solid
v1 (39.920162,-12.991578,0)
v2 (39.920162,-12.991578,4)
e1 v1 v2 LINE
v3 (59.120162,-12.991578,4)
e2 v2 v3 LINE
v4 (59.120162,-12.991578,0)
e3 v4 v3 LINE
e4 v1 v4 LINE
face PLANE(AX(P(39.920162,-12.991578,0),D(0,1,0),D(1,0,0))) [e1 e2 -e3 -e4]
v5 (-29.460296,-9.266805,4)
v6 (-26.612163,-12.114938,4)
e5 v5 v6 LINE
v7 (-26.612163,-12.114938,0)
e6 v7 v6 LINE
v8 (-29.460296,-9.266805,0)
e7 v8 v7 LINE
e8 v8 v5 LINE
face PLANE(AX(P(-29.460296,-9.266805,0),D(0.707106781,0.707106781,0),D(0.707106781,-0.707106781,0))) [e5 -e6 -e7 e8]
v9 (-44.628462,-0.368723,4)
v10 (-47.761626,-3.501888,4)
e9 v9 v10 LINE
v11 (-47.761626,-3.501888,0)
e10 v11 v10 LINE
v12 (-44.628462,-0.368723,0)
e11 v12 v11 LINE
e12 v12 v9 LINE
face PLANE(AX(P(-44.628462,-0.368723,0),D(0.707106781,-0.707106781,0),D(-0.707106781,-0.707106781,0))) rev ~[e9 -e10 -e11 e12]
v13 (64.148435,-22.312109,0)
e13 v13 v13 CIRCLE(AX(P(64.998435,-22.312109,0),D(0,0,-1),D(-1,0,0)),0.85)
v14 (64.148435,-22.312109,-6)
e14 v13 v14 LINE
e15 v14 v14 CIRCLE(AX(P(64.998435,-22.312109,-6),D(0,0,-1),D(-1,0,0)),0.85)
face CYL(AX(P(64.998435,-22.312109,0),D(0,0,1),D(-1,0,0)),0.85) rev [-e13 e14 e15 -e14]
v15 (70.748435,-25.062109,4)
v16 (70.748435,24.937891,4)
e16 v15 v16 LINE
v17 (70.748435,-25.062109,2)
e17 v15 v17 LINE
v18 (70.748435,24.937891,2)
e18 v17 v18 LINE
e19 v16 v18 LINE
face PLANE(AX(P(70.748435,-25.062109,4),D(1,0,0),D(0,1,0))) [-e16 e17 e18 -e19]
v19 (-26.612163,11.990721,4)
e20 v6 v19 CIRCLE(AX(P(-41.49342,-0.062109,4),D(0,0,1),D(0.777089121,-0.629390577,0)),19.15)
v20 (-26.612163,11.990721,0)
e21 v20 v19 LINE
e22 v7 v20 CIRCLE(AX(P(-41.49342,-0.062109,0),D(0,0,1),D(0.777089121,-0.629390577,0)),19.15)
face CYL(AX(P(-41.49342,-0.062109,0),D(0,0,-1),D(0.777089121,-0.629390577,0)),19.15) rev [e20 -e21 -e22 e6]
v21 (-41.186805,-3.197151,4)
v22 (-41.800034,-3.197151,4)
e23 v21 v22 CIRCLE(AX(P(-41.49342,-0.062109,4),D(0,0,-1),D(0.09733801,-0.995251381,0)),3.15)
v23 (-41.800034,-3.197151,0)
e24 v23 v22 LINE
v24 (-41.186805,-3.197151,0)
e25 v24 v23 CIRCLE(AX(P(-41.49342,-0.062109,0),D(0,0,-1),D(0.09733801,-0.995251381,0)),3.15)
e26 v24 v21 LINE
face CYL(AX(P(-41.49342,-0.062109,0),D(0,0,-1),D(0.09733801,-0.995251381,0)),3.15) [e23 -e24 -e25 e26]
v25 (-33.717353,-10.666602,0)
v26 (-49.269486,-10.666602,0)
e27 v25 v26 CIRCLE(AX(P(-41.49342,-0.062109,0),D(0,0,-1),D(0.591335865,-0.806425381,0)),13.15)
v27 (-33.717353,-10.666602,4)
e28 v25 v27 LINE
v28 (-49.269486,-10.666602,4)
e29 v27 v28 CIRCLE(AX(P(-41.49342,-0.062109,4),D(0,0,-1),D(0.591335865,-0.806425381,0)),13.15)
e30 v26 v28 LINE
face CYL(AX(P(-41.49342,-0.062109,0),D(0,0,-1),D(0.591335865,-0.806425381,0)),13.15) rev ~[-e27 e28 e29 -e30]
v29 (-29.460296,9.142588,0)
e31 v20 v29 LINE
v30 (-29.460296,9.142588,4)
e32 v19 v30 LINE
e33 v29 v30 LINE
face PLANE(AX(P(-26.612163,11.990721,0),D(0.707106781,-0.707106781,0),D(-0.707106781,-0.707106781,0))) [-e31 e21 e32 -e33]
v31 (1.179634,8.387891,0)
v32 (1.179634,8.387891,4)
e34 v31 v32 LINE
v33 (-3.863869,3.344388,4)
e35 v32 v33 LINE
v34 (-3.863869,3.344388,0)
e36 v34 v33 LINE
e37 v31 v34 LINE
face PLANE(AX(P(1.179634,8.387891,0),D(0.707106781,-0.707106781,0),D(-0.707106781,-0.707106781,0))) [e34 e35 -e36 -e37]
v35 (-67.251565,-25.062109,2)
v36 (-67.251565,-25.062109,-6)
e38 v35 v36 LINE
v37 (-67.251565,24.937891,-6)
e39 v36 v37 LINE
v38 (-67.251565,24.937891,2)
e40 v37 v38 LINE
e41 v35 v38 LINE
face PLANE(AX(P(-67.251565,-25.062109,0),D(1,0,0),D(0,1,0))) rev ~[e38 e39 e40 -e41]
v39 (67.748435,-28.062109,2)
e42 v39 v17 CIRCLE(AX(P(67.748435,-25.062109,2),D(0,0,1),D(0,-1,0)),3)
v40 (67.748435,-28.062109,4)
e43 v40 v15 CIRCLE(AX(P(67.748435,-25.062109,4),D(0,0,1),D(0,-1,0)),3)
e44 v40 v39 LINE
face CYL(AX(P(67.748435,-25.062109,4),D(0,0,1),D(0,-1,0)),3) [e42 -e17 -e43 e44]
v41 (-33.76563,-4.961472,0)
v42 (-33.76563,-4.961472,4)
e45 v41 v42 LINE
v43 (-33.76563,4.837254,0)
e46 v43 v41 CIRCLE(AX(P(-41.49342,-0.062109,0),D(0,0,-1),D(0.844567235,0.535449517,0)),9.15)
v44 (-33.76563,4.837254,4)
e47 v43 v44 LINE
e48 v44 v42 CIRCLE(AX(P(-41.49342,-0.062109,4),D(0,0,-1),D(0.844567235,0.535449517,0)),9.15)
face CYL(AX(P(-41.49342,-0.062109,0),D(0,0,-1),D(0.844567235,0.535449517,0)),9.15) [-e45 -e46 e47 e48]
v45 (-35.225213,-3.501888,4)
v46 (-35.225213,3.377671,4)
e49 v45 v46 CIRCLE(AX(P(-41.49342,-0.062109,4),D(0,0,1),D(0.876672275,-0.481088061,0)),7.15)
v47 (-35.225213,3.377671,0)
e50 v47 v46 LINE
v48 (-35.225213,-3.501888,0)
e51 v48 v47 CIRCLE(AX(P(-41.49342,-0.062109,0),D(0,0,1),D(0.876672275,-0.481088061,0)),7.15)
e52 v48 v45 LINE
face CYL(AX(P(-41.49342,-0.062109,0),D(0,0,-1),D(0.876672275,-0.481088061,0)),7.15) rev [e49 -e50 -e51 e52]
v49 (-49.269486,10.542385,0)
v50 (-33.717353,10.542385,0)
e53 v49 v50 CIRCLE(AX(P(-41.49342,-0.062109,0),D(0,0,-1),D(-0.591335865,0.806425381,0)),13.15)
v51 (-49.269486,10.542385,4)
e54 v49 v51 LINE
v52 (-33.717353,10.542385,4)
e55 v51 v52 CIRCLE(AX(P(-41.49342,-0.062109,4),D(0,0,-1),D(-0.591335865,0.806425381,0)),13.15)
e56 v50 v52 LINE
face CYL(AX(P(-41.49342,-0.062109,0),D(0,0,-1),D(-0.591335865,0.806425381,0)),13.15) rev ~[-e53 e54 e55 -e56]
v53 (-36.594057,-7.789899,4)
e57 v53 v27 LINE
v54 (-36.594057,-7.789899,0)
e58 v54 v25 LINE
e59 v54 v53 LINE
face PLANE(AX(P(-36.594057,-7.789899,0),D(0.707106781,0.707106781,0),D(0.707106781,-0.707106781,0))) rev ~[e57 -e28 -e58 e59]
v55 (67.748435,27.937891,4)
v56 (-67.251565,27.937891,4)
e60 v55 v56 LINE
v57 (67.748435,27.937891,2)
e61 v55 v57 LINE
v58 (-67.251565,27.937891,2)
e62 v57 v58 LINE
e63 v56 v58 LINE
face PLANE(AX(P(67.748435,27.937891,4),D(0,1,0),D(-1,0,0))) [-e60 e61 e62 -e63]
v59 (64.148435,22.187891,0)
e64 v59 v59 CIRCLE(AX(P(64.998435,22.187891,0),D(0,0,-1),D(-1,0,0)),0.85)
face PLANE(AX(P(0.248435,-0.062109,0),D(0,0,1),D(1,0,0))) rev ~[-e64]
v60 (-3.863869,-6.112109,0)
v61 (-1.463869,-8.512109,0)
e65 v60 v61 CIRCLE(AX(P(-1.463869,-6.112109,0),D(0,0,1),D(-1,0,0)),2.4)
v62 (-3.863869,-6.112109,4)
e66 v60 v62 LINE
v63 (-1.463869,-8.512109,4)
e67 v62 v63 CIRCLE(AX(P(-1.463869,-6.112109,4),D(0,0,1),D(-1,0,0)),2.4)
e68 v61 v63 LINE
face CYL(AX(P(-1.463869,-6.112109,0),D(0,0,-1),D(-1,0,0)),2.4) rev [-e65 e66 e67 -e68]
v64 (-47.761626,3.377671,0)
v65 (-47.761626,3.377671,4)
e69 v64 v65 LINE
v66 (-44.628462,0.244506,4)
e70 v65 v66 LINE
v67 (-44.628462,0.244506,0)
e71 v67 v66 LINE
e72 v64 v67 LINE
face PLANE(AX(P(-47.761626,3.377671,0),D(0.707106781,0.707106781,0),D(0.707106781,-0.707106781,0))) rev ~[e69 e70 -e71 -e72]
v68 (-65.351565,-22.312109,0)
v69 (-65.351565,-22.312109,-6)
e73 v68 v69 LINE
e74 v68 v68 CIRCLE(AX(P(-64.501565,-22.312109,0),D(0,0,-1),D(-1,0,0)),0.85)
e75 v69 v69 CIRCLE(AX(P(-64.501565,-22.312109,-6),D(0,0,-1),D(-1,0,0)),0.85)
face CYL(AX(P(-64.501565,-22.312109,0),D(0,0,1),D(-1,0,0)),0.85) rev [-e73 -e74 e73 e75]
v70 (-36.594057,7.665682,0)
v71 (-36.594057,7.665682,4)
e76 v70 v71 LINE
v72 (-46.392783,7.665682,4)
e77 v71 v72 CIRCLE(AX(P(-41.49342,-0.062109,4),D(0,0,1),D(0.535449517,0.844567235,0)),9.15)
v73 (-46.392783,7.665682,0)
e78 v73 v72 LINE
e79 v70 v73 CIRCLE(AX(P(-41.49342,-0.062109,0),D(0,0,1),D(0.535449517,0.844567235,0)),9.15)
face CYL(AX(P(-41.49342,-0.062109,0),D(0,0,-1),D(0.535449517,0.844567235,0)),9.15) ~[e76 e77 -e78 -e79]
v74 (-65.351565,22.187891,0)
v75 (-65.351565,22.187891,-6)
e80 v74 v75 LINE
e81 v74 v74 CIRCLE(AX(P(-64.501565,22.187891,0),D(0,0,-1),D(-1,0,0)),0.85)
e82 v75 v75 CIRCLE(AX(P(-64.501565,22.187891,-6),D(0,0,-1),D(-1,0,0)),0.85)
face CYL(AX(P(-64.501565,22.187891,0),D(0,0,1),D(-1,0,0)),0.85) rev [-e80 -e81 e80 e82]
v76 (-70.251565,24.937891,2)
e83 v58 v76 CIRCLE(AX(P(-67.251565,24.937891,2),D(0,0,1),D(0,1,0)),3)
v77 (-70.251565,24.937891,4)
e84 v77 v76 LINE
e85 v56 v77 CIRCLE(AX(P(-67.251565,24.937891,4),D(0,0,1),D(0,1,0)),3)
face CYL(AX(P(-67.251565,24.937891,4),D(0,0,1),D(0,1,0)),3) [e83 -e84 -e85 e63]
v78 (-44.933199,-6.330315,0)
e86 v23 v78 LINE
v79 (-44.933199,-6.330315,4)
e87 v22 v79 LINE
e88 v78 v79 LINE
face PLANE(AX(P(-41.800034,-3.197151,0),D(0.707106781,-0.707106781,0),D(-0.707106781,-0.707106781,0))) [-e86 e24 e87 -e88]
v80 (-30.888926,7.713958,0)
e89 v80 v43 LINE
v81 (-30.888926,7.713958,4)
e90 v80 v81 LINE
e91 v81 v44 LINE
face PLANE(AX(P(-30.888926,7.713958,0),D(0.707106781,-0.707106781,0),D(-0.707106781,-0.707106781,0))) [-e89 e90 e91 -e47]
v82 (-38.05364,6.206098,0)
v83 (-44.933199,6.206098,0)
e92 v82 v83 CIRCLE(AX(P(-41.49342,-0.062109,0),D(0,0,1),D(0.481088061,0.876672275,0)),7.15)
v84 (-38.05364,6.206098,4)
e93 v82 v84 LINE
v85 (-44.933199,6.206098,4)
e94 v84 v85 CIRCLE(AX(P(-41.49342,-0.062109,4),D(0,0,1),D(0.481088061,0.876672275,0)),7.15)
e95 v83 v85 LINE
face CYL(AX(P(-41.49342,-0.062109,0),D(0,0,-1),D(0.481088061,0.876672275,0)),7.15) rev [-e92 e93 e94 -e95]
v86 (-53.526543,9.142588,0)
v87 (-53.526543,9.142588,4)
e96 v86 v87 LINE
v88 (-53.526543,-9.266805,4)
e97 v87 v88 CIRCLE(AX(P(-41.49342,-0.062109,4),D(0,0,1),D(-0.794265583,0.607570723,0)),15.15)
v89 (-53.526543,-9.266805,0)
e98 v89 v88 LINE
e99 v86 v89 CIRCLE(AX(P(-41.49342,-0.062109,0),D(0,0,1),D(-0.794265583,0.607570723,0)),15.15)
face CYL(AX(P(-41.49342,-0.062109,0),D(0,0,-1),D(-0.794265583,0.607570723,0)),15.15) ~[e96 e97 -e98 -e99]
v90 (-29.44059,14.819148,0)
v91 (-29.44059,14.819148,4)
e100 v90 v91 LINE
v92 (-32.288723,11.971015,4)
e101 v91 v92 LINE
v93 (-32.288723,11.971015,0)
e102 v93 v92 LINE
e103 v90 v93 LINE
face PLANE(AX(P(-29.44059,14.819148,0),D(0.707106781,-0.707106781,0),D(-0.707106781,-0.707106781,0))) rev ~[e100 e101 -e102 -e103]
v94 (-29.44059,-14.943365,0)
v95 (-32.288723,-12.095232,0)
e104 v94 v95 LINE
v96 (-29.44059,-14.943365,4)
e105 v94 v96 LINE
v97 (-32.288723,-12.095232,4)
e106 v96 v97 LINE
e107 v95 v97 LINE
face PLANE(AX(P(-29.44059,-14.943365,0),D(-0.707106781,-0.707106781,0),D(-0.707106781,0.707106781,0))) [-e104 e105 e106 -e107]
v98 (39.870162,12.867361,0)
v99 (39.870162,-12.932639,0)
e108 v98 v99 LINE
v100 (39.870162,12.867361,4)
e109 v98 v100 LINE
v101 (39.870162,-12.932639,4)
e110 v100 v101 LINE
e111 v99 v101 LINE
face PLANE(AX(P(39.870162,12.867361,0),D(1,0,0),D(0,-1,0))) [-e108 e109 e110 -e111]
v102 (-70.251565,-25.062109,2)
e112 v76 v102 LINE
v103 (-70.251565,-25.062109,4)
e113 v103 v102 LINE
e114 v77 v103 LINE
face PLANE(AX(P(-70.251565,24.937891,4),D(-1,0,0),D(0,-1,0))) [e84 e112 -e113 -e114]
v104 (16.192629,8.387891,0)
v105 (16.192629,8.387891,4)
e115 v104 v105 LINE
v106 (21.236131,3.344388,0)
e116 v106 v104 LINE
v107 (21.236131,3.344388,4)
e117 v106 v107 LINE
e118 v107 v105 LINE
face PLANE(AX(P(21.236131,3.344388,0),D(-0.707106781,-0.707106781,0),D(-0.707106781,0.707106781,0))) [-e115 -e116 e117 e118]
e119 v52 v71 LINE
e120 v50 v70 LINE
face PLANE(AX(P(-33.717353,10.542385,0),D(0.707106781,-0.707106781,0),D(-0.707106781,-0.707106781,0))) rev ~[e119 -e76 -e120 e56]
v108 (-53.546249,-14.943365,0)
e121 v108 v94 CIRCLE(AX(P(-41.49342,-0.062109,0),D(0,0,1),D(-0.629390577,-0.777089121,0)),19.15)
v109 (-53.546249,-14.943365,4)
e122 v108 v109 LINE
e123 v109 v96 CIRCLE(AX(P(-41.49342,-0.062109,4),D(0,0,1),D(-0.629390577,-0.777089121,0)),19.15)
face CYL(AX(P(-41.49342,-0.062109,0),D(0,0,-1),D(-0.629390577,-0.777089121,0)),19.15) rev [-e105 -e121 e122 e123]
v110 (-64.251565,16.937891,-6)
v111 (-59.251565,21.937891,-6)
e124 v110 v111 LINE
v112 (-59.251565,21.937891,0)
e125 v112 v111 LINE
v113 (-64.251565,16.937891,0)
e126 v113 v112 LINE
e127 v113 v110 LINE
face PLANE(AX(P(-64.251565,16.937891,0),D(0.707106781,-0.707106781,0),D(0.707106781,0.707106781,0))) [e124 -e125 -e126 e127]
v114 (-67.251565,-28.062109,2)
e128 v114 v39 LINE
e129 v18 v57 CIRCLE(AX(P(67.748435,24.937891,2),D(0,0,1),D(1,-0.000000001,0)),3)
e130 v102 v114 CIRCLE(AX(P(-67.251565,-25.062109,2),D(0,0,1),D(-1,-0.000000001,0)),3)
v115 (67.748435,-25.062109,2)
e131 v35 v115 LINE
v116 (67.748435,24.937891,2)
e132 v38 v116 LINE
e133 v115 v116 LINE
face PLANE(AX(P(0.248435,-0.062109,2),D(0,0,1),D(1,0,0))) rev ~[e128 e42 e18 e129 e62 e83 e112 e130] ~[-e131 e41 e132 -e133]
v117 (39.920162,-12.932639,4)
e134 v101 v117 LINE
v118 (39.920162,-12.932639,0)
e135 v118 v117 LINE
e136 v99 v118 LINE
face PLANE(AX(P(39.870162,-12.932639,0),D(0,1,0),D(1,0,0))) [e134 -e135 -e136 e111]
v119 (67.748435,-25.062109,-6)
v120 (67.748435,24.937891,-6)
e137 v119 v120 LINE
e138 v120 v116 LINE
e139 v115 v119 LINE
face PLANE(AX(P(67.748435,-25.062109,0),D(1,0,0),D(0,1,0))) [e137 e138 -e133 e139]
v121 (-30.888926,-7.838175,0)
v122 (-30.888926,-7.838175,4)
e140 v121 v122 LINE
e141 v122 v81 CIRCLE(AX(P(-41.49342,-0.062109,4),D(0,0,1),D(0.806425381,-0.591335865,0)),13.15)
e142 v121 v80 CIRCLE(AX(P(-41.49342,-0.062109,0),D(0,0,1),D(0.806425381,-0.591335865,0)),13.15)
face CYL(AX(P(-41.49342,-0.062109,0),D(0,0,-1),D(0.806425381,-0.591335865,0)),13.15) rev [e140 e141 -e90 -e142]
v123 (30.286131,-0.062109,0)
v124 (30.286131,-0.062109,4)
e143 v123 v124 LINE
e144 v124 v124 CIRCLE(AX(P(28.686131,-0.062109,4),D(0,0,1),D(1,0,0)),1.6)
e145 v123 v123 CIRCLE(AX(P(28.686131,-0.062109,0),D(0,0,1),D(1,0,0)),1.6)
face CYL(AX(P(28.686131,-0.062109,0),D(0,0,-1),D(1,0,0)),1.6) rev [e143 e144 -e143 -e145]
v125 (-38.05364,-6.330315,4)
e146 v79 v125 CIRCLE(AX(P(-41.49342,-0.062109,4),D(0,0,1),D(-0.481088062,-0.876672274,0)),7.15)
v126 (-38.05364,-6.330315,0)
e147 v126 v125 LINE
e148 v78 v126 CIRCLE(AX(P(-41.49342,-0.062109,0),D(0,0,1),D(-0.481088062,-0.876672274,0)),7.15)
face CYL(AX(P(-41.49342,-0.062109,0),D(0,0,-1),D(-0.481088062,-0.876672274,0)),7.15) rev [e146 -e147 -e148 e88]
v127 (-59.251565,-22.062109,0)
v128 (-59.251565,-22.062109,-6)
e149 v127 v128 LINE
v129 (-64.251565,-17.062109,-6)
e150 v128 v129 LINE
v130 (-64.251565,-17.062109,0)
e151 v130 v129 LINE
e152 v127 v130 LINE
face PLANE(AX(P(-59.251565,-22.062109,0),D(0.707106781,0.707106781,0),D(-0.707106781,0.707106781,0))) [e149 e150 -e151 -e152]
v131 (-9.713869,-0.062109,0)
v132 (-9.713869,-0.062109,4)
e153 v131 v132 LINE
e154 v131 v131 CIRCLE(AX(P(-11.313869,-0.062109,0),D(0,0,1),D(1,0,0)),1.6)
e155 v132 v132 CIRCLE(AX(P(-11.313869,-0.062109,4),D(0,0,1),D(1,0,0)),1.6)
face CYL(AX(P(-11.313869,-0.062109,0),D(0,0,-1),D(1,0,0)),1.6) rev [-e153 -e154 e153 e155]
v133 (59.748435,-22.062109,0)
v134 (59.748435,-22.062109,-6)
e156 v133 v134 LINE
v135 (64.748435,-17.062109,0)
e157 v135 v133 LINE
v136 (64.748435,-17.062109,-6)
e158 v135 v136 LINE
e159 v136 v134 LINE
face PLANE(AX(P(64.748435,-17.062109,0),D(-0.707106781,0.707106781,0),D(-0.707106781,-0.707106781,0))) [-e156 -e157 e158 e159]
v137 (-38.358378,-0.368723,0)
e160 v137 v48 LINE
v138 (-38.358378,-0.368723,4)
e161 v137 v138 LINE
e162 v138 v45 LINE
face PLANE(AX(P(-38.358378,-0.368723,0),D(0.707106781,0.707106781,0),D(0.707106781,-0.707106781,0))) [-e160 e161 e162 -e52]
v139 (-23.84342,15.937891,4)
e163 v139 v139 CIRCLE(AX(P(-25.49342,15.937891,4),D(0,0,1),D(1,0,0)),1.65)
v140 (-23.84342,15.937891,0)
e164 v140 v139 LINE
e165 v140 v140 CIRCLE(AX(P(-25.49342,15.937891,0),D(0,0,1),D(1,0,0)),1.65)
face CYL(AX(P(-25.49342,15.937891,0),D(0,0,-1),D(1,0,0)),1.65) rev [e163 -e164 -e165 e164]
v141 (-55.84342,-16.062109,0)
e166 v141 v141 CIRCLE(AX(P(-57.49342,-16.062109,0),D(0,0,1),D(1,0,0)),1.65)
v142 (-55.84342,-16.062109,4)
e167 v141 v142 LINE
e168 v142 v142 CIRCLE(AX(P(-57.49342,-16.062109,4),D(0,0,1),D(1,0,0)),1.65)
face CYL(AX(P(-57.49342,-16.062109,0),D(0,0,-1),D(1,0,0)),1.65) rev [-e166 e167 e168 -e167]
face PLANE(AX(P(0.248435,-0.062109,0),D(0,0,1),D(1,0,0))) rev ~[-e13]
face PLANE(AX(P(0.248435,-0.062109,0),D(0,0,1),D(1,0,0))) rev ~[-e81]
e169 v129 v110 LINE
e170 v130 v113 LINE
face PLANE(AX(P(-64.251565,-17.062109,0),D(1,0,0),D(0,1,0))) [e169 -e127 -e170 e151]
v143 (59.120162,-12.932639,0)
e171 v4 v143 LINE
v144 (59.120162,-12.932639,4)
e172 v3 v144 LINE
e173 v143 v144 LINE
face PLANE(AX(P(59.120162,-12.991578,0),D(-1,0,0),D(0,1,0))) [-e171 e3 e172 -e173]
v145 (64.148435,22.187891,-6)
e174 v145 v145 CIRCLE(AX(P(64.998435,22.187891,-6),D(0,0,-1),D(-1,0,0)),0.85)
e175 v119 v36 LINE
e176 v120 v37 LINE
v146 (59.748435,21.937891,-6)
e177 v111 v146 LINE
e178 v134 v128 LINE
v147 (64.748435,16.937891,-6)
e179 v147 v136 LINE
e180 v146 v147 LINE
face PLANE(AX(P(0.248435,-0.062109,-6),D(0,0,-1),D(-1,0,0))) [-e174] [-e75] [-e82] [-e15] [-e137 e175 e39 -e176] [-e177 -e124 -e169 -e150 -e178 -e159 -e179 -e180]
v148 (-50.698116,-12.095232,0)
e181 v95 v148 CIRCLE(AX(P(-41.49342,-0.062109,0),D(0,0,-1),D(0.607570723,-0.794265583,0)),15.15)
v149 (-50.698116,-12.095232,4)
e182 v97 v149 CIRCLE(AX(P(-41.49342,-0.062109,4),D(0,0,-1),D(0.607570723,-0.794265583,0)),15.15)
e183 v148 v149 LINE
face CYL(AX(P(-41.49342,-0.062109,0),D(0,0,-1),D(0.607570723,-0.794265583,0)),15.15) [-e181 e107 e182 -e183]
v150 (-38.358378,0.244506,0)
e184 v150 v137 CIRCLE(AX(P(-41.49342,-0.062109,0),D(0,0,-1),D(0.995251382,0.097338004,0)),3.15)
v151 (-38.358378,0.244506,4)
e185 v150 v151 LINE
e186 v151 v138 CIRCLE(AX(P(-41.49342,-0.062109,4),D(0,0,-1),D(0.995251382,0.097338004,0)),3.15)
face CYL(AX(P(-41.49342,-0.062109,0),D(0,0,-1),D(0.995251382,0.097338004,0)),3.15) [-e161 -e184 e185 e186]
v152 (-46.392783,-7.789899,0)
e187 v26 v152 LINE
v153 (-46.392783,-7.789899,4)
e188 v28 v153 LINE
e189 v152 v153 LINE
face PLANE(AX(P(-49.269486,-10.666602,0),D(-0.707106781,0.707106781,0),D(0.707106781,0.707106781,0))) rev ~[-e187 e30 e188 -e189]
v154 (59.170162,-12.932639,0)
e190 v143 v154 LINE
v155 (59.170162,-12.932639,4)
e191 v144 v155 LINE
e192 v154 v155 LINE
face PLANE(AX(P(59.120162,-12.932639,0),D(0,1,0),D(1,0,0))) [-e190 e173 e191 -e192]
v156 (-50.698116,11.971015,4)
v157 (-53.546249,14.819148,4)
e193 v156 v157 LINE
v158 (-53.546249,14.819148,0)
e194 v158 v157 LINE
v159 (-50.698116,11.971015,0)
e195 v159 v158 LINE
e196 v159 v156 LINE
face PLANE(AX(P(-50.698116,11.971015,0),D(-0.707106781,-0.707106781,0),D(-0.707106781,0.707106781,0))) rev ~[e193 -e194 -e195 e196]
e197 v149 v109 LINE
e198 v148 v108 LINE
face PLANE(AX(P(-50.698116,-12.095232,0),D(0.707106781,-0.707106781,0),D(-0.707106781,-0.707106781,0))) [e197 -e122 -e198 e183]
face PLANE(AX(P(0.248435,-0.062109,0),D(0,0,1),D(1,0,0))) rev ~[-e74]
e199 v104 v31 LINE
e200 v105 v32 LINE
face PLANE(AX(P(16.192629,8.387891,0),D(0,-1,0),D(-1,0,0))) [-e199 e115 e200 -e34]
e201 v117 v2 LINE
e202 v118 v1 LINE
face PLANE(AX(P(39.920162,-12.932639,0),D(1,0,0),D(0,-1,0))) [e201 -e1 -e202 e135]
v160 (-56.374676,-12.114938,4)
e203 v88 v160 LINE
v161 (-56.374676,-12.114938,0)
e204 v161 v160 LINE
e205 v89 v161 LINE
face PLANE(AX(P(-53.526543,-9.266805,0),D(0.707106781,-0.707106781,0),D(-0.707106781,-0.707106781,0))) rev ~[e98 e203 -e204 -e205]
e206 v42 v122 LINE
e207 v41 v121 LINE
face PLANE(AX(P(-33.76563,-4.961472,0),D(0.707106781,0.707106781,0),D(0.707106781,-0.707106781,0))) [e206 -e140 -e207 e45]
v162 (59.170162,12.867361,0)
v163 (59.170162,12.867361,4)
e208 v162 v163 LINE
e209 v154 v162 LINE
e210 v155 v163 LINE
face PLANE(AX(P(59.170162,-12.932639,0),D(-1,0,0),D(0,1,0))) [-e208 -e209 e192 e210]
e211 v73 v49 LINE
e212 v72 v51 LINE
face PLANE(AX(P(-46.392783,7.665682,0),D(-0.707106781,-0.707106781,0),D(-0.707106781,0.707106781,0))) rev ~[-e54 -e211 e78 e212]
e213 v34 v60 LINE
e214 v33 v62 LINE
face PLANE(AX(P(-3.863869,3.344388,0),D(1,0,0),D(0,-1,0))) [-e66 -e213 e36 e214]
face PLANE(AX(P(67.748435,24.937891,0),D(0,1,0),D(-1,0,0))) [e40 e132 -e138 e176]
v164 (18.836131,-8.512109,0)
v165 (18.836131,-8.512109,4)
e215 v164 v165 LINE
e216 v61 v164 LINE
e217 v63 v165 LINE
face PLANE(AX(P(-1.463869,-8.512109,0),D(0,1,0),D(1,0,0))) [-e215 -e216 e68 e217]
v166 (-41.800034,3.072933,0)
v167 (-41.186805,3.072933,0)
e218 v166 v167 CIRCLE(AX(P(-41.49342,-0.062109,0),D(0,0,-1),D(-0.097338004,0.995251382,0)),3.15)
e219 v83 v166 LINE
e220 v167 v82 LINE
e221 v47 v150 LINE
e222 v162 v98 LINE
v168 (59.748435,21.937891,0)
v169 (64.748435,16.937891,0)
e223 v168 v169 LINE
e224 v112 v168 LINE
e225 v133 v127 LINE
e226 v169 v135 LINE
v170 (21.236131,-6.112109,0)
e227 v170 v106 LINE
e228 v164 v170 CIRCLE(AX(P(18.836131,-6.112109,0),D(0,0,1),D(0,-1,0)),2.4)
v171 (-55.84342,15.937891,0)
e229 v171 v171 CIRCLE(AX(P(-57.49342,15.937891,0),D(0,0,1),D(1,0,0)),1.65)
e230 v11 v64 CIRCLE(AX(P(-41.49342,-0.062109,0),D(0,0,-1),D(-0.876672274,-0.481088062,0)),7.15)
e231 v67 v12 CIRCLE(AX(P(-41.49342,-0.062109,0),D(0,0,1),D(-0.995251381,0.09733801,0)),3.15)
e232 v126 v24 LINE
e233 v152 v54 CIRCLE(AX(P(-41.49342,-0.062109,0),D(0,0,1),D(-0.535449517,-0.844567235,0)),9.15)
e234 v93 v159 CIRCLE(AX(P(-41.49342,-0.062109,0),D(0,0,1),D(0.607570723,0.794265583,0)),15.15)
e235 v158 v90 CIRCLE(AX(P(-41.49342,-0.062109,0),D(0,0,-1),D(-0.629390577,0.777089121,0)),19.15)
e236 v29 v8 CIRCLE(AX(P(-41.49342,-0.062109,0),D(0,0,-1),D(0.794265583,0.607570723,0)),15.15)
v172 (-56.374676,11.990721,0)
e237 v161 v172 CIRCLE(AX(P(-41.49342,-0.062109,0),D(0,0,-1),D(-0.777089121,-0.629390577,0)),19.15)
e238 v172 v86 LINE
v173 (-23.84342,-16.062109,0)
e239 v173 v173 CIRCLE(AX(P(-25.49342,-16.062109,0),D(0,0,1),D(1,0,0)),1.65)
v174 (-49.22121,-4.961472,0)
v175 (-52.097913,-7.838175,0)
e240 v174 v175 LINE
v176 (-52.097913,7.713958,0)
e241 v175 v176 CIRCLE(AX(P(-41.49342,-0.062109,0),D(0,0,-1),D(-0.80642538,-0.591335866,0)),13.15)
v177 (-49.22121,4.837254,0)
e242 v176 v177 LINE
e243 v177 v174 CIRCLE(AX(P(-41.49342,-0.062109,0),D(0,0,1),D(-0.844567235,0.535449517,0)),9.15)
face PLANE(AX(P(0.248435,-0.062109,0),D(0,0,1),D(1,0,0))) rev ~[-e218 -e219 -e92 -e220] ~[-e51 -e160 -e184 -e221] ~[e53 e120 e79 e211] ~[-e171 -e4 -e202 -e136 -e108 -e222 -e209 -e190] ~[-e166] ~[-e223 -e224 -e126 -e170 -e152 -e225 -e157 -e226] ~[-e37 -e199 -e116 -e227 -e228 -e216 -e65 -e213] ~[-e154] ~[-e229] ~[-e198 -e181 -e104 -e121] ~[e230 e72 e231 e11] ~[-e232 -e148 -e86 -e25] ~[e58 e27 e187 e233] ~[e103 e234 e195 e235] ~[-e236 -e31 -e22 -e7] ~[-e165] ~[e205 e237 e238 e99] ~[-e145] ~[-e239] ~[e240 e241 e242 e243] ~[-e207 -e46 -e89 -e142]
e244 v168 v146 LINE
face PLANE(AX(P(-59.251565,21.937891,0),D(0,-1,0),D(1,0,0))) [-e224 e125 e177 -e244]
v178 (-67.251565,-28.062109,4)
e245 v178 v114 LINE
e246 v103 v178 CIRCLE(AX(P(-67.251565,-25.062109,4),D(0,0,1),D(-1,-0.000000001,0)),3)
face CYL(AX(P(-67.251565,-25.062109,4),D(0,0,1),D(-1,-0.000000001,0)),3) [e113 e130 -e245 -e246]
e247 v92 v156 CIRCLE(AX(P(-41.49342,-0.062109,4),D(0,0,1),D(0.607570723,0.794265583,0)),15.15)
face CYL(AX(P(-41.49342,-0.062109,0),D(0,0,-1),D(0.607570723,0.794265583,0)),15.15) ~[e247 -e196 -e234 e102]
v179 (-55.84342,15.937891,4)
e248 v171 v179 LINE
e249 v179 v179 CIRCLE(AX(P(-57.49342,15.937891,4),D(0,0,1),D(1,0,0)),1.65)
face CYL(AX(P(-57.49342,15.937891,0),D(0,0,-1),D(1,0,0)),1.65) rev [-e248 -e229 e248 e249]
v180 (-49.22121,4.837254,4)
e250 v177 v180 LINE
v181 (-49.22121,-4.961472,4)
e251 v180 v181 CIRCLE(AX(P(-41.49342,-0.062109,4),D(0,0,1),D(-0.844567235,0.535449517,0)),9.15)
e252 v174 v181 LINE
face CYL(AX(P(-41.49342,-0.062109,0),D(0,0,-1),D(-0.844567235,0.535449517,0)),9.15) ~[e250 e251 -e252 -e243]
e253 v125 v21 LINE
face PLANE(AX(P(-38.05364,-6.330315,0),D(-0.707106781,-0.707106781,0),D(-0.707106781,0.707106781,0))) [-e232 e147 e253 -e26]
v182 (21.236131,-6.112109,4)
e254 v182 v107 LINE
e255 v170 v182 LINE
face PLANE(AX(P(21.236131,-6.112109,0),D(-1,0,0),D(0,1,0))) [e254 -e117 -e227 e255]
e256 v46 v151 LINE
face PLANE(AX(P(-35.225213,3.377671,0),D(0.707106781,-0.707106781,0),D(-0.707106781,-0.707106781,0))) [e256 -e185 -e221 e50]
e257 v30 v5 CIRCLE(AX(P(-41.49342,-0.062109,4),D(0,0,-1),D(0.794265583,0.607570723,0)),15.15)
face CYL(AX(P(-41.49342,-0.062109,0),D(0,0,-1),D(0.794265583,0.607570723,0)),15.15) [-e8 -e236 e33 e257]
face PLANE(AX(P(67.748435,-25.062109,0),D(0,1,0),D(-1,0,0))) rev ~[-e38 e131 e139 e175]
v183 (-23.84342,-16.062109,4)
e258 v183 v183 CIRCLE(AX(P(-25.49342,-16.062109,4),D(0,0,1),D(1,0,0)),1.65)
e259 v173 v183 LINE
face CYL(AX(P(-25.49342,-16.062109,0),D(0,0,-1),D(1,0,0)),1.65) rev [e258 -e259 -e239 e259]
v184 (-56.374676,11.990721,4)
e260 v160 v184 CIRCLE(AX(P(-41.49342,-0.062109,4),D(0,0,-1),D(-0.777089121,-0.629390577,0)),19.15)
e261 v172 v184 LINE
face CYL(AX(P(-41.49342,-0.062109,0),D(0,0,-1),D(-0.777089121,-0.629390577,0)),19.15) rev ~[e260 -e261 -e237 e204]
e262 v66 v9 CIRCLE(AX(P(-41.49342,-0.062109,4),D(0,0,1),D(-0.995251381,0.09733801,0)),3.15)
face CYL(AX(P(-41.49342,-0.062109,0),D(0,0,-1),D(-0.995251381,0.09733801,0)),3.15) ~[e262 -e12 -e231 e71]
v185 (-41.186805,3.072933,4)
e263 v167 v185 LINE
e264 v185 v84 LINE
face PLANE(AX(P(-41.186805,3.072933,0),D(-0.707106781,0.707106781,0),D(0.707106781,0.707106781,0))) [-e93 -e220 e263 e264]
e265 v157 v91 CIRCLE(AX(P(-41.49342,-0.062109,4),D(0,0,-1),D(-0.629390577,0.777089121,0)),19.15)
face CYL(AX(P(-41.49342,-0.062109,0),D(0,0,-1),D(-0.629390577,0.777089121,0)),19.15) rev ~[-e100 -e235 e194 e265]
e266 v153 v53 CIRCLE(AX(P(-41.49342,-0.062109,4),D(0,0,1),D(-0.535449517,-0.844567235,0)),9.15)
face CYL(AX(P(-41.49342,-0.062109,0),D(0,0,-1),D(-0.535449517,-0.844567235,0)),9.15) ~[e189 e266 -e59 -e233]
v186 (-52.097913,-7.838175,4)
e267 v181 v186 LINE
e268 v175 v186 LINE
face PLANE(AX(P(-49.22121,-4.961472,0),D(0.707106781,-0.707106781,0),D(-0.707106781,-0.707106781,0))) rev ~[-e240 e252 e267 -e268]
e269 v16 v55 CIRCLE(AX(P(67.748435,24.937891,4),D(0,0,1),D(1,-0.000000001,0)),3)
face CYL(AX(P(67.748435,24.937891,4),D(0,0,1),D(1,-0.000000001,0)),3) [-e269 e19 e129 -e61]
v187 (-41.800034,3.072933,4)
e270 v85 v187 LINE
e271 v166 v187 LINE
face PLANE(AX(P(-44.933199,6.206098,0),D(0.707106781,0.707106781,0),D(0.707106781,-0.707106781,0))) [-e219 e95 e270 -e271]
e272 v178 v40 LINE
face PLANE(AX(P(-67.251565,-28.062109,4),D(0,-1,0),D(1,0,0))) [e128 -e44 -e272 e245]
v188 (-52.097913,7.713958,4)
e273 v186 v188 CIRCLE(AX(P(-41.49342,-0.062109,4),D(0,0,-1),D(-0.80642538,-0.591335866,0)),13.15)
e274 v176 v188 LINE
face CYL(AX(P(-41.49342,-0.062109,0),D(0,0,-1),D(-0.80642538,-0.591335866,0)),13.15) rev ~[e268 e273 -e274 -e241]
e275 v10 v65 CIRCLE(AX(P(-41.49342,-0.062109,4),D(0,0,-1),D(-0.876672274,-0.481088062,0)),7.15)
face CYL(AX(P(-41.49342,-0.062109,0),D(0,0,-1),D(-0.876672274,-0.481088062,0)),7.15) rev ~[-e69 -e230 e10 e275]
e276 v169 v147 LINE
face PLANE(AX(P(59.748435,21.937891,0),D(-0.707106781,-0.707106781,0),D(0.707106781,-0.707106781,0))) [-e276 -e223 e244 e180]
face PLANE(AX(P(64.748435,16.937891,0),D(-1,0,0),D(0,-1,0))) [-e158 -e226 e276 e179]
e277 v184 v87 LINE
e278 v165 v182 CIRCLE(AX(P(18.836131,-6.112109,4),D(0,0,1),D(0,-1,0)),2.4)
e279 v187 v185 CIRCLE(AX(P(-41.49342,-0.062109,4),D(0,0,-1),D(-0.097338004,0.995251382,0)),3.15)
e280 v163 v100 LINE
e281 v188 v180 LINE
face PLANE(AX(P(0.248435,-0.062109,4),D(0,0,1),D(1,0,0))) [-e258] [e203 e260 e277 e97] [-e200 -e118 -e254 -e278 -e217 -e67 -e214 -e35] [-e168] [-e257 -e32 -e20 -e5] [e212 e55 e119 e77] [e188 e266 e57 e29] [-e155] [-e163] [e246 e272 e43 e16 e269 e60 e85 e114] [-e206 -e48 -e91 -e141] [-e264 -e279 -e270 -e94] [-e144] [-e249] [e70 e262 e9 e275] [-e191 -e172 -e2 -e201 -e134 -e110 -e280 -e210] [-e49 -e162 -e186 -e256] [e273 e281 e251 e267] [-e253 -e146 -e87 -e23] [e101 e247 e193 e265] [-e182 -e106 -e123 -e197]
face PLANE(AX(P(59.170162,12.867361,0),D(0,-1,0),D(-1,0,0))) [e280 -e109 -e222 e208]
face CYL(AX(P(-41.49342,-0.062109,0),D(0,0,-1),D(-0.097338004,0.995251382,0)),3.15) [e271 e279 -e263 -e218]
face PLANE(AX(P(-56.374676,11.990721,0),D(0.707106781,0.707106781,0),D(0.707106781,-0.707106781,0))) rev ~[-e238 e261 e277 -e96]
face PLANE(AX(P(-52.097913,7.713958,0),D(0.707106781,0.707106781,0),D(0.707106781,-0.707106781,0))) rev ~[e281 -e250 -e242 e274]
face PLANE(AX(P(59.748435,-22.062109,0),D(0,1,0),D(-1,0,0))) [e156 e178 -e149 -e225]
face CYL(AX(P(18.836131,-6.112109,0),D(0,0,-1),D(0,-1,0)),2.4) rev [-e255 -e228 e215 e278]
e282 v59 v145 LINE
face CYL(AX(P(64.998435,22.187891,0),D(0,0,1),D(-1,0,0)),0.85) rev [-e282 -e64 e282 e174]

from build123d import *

# Parameters (mm, degrees)
CROQUIS1_W              = 135
CROQUIS1_H              = 50
CROQUIS1_R              = 1.65
CROQUIS1_R_2            = 1.6
SALIENTE_EXTRUIR1_DEPTH = 4
CROQUIS2_W              = 135
CROQUIS2_H              = 50
SALIENTE_EXTRUIR2_DEPTH = 2
CROQUIS3_W              = 135
CROQUIS3_H              = 50
CROQUIS3_R              = 0.85
SALIENTE_EXTRUIR3_DEPTH = 6


with BuildPart() as part:
    # Croquis1 → Saliente-Extruir1 (new body)
    with BuildSketch(Plane.XY):
        with Locations((0.24843477, -0.062108693)):
            Rectangle(CROQUIS1_W, CROQUIS1_H)
        with Locations((-57.493419725, 15.937891307)):
            Circle(CROQUIS1_R, mode=Mode.SUBTRACT)
        with Locations((-25.493419725, 15.937891307)):
            Circle(CROQUIS1_R, mode=Mode.SUBTRACT)
        with Locations((-25.493419725, -16.062108693)):
            Circle(CROQUIS1_R, mode=Mode.SUBTRACT)
        with Locations((-57.493419725, -16.062108693)):
            Circle(CROQUIS1_R, mode=Mode.SUBTRACT)
        with Locations((28.686131392, -0.062108693)):
            Circle(CROQUIS1_R_2, mode=Mode.SUBTRACT)
        with Locations((-11.313868608, -0.062108693)):
            Circle(CROQUIS1_R_2, mode=Mode.SUBTRACT)
        Polygon((59.170162083, 12.86736071), (39.870162083, 12.86736071), (39.870162083, -12.93263929), (39.920162083, -12.93263929), (39.920162083, -12.991578095), (59.120162083, -12.991578095), (59.120162083, -12.93263929), (59.170162083, -12.93263929), align=None, mode=Mode.SUBTRACT)
        with BuildLine():
            Line((16.192628508, 8.387891307), (1.179634277, 8.387891307))
            Line((1.179634277, 8.387891307), (-3.863868608, 3.344388423))
            Line((-3.863868608, 3.344388423), (-3.863868608, -6.112108693))
            ThreePointArc((-3.863868608, -6.112108693), (-3.160924883, -7.809164967), (-1.463868608, -8.512108693))
            Line((-1.463868608, -8.512108693), (18.836131392, -8.512108693))
            ThreePointArc((18.836131392, -8.512108693), (20.533187667, -7.809164967), (21.236131392, -6.112108693))
            Line((21.236131392, -6.112108693), (21.236131392, 3.344388423))
            Line((21.236131392, 3.344388423), (16.192628508, 8.387891307))
        make_face(mode=Mode.SUBTRACT)
        with BuildLine():
            Line((-38.358377873, -0.368723419), (-35.225212961, -3.501888332))
            ThreePointArc((-35.225212961, -3.501888332), (-34.343419725, -0.062108693), (-35.225212961, 3.377670947))
            Line((-35.225212961, 3.377670947), (-38.358377873, 0.244506034))
            ThreePointArc((-38.358377873, 0.244506034), (-38.343419725, -0.062108693), (-38.358377873, -0.368723419))
        make_face(mode=Mode.SUBTRACT)
        with BuildLine():
            Line((-44.628461576, -0.368723419), (-47.761626488, -3.501888332))
            ThreePointArc((-47.761626488, -3.501888332), (-48.643419725, -0.062108693), (-47.761626488, 3.377670947))
            Line((-47.761626488, 3.377670947), (-44.628461576, 0.244506034))
            ThreePointArc((-44.628461576, 0.244506034), (-44.643419725, -0.062108693), (-44.628461576, -0.368723419))
        make_face(mode=Mode.SUBTRACT)
        with BuildLine():
            Line((-29.440590182, 14.819147975), (-32.288723267, 11.971014889))
            ThreePointArc((-32.288723267, 11.971014889), (-41.493419725, 15.087891307), (-50.698116182, 11.971014889))
            Line((-50.698116182, 11.971014889), (-53.546249267, 14.819147975))
            ThreePointArc((-53.546249267, 14.819147975), (-41.493419725, 19.087891307), (-29.440590182, 14.819147975))
        make_face(mode=Mode.SUBTRACT)
        with BuildLine():
            Line((-26.612163057, 11.99072085), (-29.460296143, 9.142587764))
            ThreePointArc((-29.460296143, 9.142587764), (-26.343419725, -0.062108693), (-29.460296143, -9.26680515))
            Line((-29.460296143, -9.26680515), (-26.612163057, -12.114938235))
            ThreePointArc((-26.612163057, -12.114938235), (-22.343419725, -0.062108693), (-26.612163057, 11.99072085))
        make_face(mode=Mode.SUBTRACT)
        with BuildLine():
            Line((-56.374676392, 11.99072085), (-53.526543306, 9.142587764))
            ThreePointArc((-53.526543306, 9.142587764), (-56.643419725, -0.062108693), (-53.526543306, -9.26680515))
            Line((-53.526543306, -9.26680515), (-56.374676392, -12.114938235))
            ThreePointArc((-56.374676392, -12.114938235), (-60.643419725, -0.062108693), (-56.374676392, 11.99072085))
        make_face(mode=Mode.SUBTRACT)
        with BuildLine():
            Line((-41.800034451, -3.197150544), (-44.933199364, -6.330315456))
            ThreePointArc((-44.933199364, -6.330315456), (-41.493419725, -7.212108693), (-38.053640085, -6.330315456))
            Line((-38.053640085, -6.330315456), (-41.186804998, -3.197150544))
            ThreePointArc((-41.186804998, -3.197150544), (-41.493419725, -3.212108693), (-41.800034451, -3.197150544))
        make_face(mode=Mode.SUBTRACT)
        with BuildLine():
            Line((-30.888925971, 7.713957937), (-33.765629521, 4.837254386))
            ThreePointArc((-33.765629521, 4.837254386), (-32.343419725, -0.062108693), (-33.765629521, -4.961471771))
            Line((-33.765629521, -4.961471771), (-30.888925971, -7.838175322))
            ThreePointArc((-30.888925971, -7.838175322), (-28.343419725, -0.062108693), (-30.888925971, 7.713957937))
        make_face(mode=Mode.SUBTRACT)
        with BuildLine():
            Line((-33.717353095, 10.542385061), (-36.594056646, 7.665681511))
            ThreePointArc((-36.594056646, 7.665681511), (-41.493419725, 9.087891307), (-46.392782803, 7.665681511))
            Line((-46.392782803, 7.665681511), (-49.269486354, 10.542385061))
            ThreePointArc((-49.269486354, 10.542385061), (-41.493419725, 13.087891307), (-33.717353095, 10.542385061))
        make_face(mode=Mode.SUBTRACT)
        with BuildLine():
            Line((-52.097913478, 7.713957937), (-49.221209928, 4.837254386))
            ThreePointArc((-49.221209928, 4.837254386), (-50.643419725, -0.062108693), (-49.221209928, -4.961471771))
            Line((-49.221209928, -4.961471771), (-52.097913478, -7.838175322))
            ThreePointArc((-52.097913478, -7.838175322), (-54.643419725, -0.062108693), (-52.097913478, 7.713957937))
        make_face(mode=Mode.SUBTRACT)
        with BuildLine():
            Line((-50.698116182, -12.095232274), (-53.546249267, -14.94336536))
            ThreePointArc((-53.546249267, -14.94336536), (-41.493419725, -19.212108693), (-29.440590182, -14.94336536))
            Line((-29.440590182, -14.94336536), (-32.288723267, -12.095232274))
            ThreePointArc((-32.288723267, -12.095232274), (-41.493419725, -15.212108693), (-50.698116182, -12.095232274))
        make_face(mode=Mode.SUBTRACT)
        with BuildLine():
            Line((-36.594056646, -7.789898896), (-33.717353095, -10.666602447))
            ThreePointArc((-33.717353095, -10.666602447), (-41.493419725, -13.212108693), (-49.269486354, -10.666602447))
            Line((-49.269486354, -10.666602447), (-46.392782803, -7.789898896))
            ThreePointArc((-46.392782803, -7.789898896), (-41.493419725, -9.212108693), (-36.594056646, -7.789898896))
        make_face(mode=Mode.SUBTRACT)
        with BuildLine():
            Line((-44.933199364, 6.206098071), (-41.800034451, 3.072933159))
            ThreePointArc((-41.800034451, 3.072933159), (-41.493419725, 3.087891307), (-41.186804998, 3.072933159))
            Line((-41.186804998, 3.072933159), (-38.053640085, 6.206098071))
            ThreePointArc((-38.053640085, 6.206098071), (-41.493419725, 7.087891307), (-44.933199364, 6.206098071))
        make_face(mode=Mode.SUBTRACT)
    extrude(amount=SALIENTE_EXTRUIR1_DEPTH)

    # Croquis2 → Saliente-Extruir2 (add)
    with BuildSketch(Plane.XY.offset(4)):
        with BuildLine():
            Line((70.74843477, -25.062108693), (70.74843477, 24.937891307))
            ThreePointArc((70.74843477, 24.937891307), (69.869755114, 27.059211651), (67.74843477, 27.937891307))
            Line((67.74843477, 27.937891307), (-67.25156523, 27.937891307))
            ThreePointArc((-67.25156523, 27.937891307), (-69.372885573, 27.059211651), (-70.25156523, 24.937891307))
            Line((-70.25156523, 24.937891307), (-70.25156523, -25.062108693))
            ThreePointArc((-70.25156523, -25.062108693), (-69.372885573, -27.183429036), (-67.25156523, -28.062108693))
            Line((-67.25156523, -28.062108693), (67.74843477, -28.062108693))
            ThreePointArc((67.74843477, -28.062108693), (69.869755114, -27.183429036), (70.74843477, -25.062108693))
        make_face()
        with Locations((0.24843477, -0.062108693)):
            Rectangle(CROQUIS2_W, CROQUIS2_H, mode=Mode.SUBTRACT)
    extrude(amount=-SALIENTE_EXTRUIR2_DEPTH)

    # Croquis3 → Saliente-Extruir3 (add)
    with BuildSketch(Plane(origin=(0, 0, 0), x_dir=(-1, 0, 0), z_dir=(0, 0, -1))):
        with Locations((-0.24843477, -0.062108693)):
            Rectangle(CROQUIS3_W, CROQUIS3_H)
        with Locations((-64.99843477, 22.187891307)):
            Circle(CROQUIS3_R, mode=Mode.SUBTRACT)
        with Locations((64.50156523, 22.187891307)):
            Circle(CROQUIS3_R, mode=Mode.SUBTRACT)
        with Locations((-64.99843477, -22.312108693)):
            Circle(CROQUIS3_R, mode=Mode.SUBTRACT)
        with Locations((64.50156523, -22.312108693)):
            Circle(CROQUIS3_R, mode=Mode.SUBTRACT)
        Polygon((-64.74843477, 16.937891307), (-64.74843477, -17.062108693), (-59.74843477, -22.062108693), (59.25156523, -22.062108693), (64.25156523, -17.062108693), (64.25156523, 16.937891307), (59.25156523, 21.937891307), (-59.74843477, 21.937891307), align=None, mode=Mode.SUBTRACT)
    extrude(amount=SALIENTE_EXTRUIR3_DEPTH)


solid = part.part
